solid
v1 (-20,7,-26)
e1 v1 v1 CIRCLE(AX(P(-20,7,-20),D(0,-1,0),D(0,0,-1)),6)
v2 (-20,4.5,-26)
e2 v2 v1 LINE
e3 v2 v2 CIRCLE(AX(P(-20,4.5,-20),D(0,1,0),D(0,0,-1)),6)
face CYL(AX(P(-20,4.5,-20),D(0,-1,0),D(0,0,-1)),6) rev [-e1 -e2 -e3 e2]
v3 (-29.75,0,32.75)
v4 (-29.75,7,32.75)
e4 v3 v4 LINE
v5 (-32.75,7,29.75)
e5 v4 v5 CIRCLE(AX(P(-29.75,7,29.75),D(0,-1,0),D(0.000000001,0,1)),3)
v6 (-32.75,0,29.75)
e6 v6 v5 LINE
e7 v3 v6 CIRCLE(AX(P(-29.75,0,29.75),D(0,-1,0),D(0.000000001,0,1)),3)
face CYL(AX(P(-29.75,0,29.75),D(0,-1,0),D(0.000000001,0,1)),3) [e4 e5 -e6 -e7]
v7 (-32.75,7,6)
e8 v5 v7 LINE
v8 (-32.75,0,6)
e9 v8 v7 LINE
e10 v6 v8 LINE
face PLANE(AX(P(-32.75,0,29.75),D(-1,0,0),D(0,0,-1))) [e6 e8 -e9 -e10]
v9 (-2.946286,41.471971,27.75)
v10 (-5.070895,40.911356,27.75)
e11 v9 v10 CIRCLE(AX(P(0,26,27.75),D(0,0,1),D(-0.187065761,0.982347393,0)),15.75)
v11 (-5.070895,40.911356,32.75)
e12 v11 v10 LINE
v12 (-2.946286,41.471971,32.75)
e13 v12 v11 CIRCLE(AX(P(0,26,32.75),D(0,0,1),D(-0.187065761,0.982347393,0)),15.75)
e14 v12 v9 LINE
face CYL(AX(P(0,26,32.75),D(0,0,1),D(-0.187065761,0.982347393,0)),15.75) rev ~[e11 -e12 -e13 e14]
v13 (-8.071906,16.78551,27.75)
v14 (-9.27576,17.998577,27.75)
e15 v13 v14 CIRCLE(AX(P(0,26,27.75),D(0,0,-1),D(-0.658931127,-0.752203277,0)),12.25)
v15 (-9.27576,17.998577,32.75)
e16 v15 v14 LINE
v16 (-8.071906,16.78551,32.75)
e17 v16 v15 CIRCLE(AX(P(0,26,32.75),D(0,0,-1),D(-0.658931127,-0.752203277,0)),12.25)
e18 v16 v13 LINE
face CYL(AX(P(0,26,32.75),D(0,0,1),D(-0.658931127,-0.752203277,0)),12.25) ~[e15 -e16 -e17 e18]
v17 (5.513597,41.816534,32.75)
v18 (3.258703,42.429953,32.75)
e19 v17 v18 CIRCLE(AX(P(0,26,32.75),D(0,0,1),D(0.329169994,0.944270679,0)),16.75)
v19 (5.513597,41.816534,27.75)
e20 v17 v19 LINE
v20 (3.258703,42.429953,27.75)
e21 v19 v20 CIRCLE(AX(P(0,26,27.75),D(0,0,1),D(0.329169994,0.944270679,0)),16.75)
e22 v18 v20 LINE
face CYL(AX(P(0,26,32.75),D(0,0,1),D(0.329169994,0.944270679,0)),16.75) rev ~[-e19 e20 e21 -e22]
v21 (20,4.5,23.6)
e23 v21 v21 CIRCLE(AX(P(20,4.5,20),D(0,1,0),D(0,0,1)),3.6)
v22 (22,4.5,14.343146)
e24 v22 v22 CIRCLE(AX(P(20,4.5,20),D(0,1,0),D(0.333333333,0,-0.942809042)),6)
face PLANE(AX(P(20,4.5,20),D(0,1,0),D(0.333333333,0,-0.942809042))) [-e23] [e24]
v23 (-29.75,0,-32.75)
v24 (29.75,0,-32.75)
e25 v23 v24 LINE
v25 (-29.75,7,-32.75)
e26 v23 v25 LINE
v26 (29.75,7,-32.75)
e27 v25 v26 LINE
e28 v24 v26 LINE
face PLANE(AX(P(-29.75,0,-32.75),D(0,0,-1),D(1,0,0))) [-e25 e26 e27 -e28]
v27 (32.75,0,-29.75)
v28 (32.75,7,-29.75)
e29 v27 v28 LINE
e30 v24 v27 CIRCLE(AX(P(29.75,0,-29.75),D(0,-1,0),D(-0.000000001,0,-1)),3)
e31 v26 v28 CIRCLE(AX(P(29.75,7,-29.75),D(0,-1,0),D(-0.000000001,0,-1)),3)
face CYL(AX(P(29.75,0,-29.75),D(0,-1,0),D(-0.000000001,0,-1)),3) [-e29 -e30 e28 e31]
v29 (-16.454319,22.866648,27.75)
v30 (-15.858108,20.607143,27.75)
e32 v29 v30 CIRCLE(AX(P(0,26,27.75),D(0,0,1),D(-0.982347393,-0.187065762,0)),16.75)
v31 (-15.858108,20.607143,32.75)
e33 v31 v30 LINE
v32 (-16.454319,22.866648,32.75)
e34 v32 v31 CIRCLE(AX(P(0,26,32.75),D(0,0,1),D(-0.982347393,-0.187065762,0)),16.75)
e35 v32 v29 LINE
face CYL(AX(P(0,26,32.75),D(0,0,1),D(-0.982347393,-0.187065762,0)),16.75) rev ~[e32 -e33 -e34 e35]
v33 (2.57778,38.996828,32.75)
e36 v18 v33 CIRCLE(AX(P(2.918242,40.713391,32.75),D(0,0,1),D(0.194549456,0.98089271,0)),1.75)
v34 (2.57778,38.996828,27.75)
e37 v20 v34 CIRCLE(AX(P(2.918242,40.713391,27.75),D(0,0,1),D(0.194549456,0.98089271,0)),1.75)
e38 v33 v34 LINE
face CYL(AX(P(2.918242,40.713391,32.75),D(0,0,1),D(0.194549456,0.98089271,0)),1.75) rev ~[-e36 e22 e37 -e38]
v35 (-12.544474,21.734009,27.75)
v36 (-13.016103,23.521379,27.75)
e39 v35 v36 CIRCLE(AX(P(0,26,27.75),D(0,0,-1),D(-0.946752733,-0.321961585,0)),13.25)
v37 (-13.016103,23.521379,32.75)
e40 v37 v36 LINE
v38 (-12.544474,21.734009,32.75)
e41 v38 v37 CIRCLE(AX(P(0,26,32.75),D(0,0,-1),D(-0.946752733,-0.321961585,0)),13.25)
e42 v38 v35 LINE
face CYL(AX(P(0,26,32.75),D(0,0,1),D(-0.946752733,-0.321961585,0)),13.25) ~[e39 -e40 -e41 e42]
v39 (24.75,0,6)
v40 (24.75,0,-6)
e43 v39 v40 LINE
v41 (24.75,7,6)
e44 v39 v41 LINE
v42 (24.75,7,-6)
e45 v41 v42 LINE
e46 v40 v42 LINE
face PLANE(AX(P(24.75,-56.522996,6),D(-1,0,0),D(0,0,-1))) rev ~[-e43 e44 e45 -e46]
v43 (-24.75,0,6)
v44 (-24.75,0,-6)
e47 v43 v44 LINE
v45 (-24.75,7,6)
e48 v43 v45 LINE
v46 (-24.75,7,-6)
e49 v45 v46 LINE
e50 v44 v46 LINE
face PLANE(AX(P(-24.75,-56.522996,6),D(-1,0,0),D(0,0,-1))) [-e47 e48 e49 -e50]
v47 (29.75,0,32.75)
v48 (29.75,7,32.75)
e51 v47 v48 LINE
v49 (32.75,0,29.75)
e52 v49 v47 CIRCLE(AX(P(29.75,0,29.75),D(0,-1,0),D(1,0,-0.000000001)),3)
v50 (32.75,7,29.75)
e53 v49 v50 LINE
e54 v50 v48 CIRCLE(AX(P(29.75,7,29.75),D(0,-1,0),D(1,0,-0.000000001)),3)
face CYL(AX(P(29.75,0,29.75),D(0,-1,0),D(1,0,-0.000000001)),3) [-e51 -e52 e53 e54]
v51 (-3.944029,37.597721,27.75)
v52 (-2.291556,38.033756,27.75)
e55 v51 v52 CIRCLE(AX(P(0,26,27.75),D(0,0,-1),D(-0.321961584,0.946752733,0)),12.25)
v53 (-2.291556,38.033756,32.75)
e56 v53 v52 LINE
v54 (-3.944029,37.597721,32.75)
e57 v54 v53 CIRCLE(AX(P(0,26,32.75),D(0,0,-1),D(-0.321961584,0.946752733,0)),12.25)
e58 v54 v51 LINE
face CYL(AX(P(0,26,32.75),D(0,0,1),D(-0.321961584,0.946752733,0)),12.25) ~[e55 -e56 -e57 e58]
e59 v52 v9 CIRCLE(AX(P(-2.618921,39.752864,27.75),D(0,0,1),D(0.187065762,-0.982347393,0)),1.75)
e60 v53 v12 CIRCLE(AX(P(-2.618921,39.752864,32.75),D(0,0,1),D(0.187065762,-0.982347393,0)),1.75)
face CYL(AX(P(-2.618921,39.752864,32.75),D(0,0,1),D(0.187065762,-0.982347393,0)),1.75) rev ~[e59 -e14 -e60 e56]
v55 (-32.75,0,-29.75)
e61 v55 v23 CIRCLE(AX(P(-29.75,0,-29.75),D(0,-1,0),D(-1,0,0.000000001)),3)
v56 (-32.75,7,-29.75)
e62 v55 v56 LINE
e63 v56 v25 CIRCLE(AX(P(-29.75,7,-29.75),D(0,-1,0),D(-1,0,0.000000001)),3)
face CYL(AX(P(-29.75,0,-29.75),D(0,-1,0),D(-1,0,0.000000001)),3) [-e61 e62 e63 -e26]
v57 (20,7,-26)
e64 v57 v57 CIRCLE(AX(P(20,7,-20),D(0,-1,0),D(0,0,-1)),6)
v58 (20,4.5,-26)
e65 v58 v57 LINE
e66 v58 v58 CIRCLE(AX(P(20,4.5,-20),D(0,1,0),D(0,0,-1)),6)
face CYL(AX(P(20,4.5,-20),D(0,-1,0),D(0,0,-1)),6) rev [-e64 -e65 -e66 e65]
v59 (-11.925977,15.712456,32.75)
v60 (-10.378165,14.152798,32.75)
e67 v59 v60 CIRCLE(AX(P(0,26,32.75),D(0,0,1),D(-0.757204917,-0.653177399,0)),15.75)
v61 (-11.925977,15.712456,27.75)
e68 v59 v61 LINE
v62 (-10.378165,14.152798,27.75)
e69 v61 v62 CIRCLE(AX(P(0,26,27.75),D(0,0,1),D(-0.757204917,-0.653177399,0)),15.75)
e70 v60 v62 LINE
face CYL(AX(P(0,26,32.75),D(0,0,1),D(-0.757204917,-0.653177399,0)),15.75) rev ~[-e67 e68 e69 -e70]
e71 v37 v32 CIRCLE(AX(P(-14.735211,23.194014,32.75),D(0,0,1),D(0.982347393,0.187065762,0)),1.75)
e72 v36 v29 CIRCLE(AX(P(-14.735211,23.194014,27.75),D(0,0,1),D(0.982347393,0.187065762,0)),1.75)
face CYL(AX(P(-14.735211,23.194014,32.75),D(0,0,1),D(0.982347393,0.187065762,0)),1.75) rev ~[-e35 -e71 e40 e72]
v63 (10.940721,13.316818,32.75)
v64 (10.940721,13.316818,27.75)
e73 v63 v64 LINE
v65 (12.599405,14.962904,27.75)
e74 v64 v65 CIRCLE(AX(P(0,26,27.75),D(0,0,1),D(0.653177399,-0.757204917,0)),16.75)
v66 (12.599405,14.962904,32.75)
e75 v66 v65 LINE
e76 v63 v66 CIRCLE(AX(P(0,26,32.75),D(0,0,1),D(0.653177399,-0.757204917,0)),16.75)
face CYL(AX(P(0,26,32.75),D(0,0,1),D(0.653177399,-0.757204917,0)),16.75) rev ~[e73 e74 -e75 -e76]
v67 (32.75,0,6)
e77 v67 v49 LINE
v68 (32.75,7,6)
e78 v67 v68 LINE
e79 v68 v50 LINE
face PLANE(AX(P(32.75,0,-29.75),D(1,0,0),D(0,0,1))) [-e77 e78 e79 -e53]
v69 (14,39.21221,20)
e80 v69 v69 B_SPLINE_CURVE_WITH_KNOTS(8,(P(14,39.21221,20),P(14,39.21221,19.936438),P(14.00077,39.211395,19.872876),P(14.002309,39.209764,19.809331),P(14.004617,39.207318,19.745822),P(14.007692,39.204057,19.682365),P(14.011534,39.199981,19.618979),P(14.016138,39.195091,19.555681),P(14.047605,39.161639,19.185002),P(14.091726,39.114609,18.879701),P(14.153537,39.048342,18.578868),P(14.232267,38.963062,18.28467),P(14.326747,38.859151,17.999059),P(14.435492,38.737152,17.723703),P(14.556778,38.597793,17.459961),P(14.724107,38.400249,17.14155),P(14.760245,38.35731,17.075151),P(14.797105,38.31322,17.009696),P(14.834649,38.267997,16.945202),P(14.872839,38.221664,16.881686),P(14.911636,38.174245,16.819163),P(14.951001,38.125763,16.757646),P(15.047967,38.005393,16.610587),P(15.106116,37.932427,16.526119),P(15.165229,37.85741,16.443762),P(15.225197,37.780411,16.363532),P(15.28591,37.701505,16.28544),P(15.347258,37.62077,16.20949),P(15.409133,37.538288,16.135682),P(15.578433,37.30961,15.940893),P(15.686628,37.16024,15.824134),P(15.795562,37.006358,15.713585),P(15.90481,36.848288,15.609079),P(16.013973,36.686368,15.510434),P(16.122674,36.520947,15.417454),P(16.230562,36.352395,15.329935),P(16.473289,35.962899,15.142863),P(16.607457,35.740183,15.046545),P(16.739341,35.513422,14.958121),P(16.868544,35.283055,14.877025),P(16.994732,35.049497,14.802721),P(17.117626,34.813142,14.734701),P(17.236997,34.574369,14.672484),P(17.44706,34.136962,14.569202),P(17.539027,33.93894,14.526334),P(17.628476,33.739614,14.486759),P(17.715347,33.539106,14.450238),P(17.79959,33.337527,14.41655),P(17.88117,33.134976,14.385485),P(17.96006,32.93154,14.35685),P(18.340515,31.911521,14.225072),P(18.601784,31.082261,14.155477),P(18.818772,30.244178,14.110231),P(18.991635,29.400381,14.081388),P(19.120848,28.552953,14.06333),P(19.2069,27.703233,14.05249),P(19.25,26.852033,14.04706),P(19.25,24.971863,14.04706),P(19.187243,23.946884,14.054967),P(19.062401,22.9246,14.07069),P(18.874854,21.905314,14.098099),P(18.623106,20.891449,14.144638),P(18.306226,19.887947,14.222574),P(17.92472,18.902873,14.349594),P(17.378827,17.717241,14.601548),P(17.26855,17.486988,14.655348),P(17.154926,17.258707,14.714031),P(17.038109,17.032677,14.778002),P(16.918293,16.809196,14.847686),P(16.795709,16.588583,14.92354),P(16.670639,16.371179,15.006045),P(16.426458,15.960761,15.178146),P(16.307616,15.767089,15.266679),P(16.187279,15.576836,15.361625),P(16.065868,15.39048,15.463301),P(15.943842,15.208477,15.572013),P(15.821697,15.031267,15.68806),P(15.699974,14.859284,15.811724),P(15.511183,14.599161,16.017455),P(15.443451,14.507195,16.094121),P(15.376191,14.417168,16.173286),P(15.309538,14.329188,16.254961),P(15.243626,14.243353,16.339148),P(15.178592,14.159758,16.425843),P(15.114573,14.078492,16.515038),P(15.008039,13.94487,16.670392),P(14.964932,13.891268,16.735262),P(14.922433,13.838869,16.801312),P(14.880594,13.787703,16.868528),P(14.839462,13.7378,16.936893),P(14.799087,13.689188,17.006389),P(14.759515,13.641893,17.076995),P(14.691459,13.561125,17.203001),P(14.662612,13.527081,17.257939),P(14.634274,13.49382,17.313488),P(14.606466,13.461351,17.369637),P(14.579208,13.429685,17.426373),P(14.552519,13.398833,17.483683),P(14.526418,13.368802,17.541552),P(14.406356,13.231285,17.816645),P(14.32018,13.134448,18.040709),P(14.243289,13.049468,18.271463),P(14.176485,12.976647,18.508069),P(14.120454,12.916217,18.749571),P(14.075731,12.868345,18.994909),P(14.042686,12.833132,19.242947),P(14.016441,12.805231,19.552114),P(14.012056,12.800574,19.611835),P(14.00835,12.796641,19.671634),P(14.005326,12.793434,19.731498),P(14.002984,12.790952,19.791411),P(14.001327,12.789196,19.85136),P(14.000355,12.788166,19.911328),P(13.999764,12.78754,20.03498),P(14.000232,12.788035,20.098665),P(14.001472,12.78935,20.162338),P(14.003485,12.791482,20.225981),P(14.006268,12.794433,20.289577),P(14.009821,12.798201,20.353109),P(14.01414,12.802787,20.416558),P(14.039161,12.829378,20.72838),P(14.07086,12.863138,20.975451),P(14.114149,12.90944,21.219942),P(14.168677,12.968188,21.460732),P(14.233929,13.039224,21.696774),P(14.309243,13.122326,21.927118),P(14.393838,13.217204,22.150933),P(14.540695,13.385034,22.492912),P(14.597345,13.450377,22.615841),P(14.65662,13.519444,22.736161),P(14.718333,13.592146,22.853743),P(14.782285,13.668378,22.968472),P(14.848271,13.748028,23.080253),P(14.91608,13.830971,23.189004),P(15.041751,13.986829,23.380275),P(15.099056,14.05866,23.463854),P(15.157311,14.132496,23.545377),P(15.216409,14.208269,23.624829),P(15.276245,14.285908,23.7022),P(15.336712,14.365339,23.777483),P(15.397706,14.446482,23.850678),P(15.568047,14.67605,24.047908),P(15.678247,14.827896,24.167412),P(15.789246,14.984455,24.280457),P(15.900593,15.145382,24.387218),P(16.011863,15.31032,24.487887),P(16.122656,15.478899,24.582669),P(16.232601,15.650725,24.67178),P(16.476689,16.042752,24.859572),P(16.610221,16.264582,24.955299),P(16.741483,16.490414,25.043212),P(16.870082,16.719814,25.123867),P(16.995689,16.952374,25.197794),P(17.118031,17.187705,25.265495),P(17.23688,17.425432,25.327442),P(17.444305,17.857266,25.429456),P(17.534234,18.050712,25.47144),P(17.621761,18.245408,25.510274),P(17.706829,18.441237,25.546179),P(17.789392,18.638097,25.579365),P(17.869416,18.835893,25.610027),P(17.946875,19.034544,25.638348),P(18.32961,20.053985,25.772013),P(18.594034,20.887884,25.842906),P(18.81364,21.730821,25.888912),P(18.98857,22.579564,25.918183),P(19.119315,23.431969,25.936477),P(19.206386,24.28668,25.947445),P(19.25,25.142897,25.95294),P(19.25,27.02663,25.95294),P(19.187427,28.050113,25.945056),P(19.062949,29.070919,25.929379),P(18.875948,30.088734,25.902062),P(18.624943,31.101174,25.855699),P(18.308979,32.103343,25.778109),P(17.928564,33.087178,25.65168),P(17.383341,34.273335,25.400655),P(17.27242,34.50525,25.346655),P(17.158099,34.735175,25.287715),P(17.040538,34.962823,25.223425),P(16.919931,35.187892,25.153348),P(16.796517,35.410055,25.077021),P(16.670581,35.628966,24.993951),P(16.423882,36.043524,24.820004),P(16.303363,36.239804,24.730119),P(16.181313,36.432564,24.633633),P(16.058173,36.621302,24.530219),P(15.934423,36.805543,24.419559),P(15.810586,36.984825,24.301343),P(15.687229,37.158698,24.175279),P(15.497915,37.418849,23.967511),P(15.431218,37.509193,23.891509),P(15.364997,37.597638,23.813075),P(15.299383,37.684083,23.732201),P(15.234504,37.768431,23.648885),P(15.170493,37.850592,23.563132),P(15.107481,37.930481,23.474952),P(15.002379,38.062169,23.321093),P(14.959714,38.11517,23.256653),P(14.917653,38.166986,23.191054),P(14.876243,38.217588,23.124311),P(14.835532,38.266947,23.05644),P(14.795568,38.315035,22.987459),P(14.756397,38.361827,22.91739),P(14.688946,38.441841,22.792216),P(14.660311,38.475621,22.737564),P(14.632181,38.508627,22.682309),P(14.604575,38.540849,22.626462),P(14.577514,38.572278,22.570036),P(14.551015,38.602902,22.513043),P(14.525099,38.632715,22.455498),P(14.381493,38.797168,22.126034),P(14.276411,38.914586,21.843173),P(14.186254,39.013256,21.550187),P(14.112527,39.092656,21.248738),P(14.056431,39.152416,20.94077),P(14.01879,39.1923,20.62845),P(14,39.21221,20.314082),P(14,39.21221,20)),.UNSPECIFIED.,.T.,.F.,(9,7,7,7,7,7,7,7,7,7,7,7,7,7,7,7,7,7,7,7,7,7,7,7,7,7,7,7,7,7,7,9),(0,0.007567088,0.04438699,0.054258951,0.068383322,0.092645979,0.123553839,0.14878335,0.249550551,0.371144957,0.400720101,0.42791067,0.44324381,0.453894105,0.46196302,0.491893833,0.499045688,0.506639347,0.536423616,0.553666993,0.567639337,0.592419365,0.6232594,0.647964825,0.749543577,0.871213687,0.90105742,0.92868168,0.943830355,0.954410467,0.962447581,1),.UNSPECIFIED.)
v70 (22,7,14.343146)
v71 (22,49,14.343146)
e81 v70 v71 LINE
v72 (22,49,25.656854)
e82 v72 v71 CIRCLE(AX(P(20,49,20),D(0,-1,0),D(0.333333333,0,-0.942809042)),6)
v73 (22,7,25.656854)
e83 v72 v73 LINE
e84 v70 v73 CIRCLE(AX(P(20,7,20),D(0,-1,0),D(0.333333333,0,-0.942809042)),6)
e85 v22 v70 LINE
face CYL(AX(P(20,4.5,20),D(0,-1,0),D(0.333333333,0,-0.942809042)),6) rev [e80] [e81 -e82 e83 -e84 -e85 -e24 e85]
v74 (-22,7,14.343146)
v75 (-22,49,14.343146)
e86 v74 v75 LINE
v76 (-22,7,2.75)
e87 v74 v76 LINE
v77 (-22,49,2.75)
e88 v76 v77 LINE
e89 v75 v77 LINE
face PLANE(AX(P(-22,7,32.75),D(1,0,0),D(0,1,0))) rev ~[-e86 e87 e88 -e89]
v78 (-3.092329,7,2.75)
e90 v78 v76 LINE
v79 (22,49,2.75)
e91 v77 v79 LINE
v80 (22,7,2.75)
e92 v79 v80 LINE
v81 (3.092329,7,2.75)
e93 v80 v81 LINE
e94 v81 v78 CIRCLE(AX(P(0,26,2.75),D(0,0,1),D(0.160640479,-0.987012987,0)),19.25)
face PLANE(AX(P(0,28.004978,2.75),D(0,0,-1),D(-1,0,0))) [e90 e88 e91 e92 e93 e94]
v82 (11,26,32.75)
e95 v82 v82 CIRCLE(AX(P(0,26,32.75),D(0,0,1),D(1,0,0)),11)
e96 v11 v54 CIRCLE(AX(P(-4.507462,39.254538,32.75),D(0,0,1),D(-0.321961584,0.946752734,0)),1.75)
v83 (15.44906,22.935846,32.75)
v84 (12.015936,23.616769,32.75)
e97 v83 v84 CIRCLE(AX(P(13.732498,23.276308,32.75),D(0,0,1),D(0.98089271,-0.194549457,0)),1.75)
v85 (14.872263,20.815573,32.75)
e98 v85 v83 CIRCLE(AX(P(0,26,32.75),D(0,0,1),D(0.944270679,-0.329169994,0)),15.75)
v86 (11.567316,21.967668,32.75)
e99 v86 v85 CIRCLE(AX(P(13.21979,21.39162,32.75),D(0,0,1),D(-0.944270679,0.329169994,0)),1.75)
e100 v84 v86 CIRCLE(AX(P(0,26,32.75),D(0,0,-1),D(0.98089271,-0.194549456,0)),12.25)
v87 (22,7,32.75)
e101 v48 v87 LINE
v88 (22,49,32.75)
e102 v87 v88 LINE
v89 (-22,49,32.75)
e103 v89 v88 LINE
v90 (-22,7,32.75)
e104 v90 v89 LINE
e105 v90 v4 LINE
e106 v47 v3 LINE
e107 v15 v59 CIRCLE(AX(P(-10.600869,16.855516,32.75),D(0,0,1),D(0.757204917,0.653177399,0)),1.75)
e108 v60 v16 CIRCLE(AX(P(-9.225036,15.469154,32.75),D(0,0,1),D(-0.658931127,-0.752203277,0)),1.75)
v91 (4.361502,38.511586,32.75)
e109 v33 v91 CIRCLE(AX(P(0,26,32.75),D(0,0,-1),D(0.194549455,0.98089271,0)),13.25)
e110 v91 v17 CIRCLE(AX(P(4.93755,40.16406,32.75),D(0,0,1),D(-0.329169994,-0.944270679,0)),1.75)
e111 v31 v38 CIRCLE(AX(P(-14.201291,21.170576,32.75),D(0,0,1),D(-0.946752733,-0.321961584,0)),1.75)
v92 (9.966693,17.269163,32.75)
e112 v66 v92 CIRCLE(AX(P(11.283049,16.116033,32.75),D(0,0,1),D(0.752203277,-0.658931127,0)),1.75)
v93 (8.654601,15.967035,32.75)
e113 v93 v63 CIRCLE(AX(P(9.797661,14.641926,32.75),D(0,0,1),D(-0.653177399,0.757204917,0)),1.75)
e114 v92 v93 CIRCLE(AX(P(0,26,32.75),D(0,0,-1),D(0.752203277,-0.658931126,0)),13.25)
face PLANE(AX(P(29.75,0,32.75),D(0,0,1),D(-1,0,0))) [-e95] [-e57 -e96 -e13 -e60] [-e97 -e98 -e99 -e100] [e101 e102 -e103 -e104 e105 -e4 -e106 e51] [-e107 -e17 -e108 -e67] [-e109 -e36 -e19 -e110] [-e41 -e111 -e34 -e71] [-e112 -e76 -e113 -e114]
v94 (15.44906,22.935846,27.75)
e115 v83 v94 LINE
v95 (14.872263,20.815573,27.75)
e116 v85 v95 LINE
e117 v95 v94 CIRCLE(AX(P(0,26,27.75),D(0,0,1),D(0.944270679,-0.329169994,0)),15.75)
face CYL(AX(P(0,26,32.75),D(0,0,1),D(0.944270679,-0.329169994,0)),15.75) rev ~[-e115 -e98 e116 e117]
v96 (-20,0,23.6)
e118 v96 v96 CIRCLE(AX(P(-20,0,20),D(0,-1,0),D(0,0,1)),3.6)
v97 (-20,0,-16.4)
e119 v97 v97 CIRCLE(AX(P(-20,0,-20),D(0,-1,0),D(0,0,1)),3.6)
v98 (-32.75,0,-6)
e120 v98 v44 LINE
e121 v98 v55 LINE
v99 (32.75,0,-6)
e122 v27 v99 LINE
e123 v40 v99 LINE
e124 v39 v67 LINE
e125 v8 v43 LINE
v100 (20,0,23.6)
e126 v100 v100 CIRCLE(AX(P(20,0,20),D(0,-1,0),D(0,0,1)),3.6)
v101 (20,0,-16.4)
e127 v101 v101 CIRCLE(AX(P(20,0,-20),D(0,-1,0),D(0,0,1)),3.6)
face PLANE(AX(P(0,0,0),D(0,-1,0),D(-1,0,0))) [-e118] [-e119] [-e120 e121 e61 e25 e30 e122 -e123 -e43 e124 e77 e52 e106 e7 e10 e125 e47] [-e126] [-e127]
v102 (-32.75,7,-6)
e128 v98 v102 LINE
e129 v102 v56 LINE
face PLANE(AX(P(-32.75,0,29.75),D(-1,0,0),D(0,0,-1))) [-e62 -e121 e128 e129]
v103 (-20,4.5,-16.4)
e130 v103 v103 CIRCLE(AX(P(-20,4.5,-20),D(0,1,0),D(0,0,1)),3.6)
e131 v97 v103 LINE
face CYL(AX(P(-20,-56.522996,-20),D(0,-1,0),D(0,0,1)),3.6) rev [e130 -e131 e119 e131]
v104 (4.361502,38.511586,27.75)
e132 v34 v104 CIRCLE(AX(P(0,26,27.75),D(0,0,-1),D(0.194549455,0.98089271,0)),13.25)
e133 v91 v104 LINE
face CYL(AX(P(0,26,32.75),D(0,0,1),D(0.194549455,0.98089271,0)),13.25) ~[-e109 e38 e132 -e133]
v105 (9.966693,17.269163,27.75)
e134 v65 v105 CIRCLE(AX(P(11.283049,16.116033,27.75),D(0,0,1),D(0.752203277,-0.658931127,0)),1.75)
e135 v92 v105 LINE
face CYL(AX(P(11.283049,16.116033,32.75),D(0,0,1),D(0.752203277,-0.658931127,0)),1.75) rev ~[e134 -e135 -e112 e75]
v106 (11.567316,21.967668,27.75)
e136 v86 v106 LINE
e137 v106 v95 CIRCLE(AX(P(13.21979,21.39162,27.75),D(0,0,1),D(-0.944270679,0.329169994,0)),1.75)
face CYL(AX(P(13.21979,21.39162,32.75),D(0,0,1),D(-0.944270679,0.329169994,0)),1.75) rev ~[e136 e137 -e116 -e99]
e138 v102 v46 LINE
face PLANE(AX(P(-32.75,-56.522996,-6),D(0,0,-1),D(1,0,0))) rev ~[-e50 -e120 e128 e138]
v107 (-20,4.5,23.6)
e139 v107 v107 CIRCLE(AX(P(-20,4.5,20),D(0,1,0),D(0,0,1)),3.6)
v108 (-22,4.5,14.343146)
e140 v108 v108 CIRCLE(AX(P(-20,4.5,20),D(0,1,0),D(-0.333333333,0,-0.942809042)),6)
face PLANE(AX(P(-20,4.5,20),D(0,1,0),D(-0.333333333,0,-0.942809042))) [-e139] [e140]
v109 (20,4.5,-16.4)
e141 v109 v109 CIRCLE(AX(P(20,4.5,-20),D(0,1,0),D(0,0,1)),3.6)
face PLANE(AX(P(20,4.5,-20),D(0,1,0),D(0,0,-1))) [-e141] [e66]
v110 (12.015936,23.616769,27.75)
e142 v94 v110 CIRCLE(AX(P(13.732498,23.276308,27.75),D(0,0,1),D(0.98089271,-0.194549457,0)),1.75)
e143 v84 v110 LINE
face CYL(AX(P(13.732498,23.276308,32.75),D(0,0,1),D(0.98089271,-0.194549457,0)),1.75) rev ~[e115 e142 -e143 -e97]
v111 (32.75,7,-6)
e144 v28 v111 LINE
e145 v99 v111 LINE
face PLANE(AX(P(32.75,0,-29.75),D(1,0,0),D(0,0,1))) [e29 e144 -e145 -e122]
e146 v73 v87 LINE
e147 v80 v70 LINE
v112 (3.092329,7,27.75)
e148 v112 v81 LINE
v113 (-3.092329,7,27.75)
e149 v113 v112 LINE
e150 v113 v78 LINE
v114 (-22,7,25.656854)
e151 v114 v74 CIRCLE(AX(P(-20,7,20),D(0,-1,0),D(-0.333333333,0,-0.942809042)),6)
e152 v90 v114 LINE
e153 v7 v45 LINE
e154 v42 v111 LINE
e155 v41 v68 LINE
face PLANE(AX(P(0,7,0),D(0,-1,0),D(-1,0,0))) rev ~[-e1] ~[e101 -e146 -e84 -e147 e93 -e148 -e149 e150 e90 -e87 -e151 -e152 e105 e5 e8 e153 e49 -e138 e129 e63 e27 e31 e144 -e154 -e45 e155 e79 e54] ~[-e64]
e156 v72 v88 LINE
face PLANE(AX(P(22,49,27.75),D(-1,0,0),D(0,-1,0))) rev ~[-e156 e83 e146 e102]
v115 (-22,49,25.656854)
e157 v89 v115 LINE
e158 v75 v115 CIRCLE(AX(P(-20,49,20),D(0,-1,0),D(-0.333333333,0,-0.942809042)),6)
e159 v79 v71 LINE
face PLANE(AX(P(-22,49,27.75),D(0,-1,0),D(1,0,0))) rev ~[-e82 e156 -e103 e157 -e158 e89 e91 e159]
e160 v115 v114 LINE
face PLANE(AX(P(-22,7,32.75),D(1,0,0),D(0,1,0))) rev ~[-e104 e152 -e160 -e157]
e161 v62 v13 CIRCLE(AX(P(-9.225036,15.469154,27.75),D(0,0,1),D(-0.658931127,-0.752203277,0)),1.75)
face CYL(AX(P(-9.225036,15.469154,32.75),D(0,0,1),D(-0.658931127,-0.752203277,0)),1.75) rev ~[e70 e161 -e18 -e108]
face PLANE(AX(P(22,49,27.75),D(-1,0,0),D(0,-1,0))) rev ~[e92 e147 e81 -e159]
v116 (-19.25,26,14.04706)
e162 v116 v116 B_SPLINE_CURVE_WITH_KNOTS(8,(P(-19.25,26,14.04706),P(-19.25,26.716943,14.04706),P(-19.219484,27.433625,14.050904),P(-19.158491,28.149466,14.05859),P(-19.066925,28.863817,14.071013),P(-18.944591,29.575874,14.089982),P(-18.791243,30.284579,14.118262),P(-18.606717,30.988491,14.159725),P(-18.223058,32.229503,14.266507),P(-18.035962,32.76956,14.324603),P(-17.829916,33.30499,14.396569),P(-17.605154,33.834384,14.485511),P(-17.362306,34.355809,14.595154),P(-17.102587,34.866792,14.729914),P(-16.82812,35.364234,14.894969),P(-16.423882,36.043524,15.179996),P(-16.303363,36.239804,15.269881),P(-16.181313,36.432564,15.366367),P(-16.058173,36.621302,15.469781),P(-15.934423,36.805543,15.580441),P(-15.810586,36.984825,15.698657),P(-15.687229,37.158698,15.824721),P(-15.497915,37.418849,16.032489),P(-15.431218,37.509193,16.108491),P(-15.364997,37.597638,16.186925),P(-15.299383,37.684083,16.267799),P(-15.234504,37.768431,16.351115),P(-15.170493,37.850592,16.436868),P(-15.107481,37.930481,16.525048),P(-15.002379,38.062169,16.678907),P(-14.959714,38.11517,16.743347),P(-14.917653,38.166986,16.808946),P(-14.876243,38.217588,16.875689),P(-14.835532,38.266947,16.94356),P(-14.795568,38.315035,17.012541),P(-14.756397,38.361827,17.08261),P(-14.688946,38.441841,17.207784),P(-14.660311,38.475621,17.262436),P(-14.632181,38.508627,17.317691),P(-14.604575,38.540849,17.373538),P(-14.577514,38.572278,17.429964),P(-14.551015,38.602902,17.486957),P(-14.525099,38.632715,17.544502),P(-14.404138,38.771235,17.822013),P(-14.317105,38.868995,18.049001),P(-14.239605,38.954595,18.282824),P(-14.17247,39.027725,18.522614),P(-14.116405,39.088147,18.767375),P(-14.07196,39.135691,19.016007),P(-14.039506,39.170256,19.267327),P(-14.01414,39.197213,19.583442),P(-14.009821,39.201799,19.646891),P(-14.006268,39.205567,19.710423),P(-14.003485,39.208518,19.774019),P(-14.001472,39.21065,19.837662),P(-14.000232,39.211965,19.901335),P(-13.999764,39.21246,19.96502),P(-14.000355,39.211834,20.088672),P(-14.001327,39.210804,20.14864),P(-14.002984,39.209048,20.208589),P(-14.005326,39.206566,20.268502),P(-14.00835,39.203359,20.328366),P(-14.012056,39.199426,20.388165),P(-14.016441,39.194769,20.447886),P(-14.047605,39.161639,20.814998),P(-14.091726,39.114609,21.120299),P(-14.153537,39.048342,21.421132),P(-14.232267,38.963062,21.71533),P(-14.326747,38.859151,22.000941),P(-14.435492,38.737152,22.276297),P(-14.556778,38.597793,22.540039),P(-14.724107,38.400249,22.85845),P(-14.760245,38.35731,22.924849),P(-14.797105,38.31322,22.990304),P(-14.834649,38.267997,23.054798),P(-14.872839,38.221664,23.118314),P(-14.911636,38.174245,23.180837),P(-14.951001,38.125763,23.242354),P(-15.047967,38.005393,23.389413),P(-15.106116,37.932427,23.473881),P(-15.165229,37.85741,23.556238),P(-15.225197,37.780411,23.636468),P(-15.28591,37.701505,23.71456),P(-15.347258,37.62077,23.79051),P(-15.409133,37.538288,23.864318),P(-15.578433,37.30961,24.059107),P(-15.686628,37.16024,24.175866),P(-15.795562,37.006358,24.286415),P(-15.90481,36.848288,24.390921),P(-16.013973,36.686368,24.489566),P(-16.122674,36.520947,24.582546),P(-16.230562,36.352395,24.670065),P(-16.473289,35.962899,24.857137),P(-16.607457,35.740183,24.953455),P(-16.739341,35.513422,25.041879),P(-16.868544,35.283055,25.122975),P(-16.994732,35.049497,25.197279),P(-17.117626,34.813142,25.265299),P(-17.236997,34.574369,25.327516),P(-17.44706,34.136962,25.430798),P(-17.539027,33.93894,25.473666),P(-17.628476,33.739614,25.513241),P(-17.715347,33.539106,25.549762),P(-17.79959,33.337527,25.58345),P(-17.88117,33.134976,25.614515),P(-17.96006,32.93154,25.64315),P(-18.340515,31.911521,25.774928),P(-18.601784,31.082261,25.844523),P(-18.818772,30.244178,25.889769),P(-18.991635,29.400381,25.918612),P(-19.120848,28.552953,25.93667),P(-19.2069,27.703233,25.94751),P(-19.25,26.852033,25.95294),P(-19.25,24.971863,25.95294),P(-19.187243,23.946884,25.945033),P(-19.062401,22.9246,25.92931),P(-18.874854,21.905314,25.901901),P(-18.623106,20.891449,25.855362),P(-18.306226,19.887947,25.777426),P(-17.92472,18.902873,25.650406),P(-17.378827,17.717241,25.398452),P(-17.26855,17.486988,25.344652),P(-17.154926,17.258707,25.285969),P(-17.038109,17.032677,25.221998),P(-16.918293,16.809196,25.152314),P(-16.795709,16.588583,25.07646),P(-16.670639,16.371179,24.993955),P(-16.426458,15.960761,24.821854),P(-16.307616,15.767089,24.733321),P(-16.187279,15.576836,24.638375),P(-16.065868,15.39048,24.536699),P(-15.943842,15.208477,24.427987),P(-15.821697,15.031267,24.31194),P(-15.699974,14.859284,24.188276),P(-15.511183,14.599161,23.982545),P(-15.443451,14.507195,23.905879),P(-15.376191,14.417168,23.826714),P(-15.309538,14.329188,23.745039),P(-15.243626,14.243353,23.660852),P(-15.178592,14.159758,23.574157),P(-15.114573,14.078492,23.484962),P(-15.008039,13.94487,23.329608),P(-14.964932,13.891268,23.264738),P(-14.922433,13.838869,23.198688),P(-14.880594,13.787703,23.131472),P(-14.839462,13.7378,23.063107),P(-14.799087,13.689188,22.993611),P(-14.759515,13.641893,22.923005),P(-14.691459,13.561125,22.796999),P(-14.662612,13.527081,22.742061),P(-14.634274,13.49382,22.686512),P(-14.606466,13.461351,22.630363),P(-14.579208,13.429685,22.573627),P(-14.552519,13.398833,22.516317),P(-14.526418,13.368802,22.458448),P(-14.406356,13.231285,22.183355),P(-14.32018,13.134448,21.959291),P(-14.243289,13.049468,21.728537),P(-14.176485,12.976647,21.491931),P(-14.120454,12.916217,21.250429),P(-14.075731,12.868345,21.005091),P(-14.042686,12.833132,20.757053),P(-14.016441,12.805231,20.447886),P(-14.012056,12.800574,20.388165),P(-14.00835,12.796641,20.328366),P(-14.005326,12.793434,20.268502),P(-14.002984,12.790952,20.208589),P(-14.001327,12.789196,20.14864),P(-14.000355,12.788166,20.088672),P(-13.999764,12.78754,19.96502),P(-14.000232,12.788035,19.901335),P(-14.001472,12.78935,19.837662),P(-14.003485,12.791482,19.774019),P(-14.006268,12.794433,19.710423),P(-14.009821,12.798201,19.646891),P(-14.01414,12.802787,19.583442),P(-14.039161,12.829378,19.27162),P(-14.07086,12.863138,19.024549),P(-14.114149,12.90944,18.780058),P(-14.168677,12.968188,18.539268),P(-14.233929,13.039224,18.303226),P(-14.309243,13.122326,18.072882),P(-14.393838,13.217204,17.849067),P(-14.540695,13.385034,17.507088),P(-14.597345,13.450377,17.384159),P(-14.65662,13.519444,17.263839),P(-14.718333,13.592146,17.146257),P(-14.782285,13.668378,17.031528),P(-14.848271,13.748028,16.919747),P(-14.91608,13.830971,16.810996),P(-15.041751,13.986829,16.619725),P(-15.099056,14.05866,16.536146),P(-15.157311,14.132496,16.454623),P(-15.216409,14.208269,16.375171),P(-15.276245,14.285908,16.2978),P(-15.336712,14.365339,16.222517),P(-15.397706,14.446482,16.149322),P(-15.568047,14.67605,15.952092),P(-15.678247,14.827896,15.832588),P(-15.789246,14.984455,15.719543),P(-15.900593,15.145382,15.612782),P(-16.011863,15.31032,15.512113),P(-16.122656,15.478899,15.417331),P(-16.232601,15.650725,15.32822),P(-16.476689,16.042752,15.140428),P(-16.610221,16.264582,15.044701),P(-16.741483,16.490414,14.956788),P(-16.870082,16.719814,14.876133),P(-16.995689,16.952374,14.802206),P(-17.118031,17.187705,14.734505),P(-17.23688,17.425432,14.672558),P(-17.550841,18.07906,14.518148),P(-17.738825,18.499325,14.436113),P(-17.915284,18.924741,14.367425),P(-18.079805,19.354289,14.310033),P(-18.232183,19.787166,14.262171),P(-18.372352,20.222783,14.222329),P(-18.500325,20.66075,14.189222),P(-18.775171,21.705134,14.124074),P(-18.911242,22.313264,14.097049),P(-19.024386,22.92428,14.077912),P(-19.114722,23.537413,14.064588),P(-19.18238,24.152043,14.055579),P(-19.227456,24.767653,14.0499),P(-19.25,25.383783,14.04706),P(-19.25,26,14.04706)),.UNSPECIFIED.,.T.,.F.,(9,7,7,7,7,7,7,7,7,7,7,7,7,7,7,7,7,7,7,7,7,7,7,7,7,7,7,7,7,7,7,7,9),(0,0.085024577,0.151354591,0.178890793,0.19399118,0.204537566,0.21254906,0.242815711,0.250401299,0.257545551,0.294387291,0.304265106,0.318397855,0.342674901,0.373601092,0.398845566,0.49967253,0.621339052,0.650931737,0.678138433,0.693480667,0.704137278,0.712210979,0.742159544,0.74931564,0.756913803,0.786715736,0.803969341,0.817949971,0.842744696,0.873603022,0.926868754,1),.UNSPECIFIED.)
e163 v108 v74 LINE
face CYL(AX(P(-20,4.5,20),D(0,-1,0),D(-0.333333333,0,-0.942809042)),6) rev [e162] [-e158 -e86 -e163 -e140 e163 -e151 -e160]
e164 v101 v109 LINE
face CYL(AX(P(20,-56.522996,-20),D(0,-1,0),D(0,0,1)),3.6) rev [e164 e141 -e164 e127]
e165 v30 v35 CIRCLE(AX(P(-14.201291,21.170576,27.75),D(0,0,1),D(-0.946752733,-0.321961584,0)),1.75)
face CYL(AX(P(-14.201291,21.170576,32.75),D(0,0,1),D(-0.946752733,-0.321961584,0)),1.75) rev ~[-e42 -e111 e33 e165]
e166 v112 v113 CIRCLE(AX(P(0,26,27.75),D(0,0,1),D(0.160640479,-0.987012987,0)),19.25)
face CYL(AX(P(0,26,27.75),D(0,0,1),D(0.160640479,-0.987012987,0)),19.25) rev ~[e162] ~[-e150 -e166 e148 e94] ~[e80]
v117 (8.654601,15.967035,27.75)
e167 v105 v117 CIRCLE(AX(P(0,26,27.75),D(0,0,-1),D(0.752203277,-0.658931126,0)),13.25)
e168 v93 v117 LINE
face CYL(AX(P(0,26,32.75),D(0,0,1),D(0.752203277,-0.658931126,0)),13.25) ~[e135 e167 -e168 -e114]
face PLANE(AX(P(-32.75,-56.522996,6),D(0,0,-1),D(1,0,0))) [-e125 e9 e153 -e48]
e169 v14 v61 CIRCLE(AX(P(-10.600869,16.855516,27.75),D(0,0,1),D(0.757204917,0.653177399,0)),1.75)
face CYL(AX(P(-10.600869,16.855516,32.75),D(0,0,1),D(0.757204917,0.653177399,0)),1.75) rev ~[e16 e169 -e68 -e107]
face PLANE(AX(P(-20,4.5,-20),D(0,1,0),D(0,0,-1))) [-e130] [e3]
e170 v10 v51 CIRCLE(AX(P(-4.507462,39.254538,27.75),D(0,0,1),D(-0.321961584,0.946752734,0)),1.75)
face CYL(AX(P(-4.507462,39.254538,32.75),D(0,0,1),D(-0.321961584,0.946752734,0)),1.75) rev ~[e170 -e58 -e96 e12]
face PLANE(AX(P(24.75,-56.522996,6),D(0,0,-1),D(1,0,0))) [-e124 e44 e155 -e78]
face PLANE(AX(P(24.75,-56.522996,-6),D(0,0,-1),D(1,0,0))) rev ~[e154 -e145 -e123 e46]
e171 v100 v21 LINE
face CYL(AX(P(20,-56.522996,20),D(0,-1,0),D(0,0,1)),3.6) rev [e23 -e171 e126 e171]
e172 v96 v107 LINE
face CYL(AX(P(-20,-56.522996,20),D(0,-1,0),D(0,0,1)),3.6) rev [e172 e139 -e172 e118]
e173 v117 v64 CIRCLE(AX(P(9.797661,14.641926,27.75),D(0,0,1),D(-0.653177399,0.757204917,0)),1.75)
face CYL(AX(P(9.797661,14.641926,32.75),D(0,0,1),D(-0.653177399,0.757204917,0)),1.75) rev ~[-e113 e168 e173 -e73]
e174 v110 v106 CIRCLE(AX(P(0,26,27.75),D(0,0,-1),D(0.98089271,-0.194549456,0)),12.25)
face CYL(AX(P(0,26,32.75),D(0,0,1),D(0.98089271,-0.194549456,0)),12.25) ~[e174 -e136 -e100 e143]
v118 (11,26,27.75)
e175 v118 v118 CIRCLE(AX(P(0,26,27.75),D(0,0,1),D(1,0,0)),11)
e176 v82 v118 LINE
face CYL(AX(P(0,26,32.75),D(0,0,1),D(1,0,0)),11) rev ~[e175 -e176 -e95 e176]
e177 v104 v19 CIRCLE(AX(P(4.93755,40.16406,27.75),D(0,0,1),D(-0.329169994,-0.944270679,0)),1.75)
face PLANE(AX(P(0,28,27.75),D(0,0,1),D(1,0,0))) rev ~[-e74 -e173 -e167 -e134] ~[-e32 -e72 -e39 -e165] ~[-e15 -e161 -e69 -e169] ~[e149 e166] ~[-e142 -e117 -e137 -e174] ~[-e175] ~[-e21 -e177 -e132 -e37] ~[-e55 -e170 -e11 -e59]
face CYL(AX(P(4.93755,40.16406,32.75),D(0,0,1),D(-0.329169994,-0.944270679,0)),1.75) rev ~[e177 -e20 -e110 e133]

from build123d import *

# Parameters (mm, degrees)
BOSS_EXTRUDE1_DEPTH     = 7
SKETCH2_W               = 44
SKETCH2_H               = 42
SKETCH2_R               = 11
BOSS_EXTRUDE3_DEPTH     = 5
BOSS_EXTRUDE4_DEPTH     = 25
CUT_EXTRUDE6_DEPTH      = 5
CUT_EXTRUDE7_DEPTH      = 63.52299577
CUT_EXTRUDE7_DEPTH_BACK = 63.52299577
SKETCH7_W               = 8
SKETCH7_H               = 12
SKETCH7_R               = 3.6
CUT_EXTRUDE9_DEPTH      = 63.522995837
CUT_EXTRUDE9_DEPTH_BACK = 2.5
SKETCH7_4_R             = 6
SKETCH7_4_R_2           = 3.6
SKETCH7_4_W             = 8
SKETCH7_4_H             = 12


with BuildPart() as part:
    # Sketch1 → Boss-Extrude1 (new body)
    with BuildSketch(Plane(origin=(0, 0, 0), x_dir=(1, 0, 0), z_dir=(0, 1, 0))):
        with BuildLine():
            Line((-29.75, 32.75), (29.75, 32.75))
            ThreePointArc((29.75, 32.75), (31.871320344, 31.871320344), (32.75, 29.75))
            Line((32.75, 29.75), (32.75, -29.75))
            ThreePointArc((32.75, -29.75), (31.871320344, -31.871320344), (29.75, -32.75))
            Line((29.75, -32.75), (-29.75, -32.75))
            ThreePointArc((-29.75, -32.75), (-31.871320344, -31.871320344), (-32.75, -29.75))
            Line((-32.75, -29.75), (-32.75, 29.75))
            ThreePointArc((-32.75, 29.75), (-31.871320344, 31.871320344), (-29.75, 32.75))
        make_face()
    extrude(amount=BOSS_EXTRUDE1_DEPTH)

    # Sketch2 → Boss-Extrude3 (add)
    with BuildSketch(Plane.XY.offset(32.75)):
        with Locations((0, 28)):
            Rectangle(SKETCH2_W, SKETCH2_H)
        with Locations((0, 26)):
            Circle(SKETCH2_R, mode=Mode.SUBTRACT)
    extrude(amount=-BOSS_EXTRUDE3_DEPTH)

    # Sketch3 → Boss-Extrude4 (add)
    with BuildSketch(Plane(origin=(0, 0, 27.75), x_dir=(-1, 0, 0), z_dir=(0, 0, -1))):
        with BuildLine():
            ThreePointArc((-3.092329219, 7), (0, 45.25), (3.092329219, 7))
            Line((3.092329219, 7), (22, 7))
            Line((22, 7), (22, 49))
            Line((22, 49), (-22, 49))
            Line((-22, 49), (-22, 7))
            Line((-22, 7), (-3.092329219, 7))
        make_face()
    extrude(amount=BOSS_EXTRUDE4_DEPTH)

    # Sketch6 → Cut-Extrude6 (cut)
    with BuildSketch(Plane.XY.offset(32.75)):
        with BuildLine():
            ThreePointArc((12.015935701, 23.616769161), (11.820419706, 22.784385288), (11.567315814, 21.967667567))
            ThreePointArc((11.567315814, 21.967667567), (12.643742012, 19.739146389), (14.87226319, 20.815572586))
            ThreePointArc((14.87226319, 20.815572586), (15.197682479, 21.865638228), (15.449060187, 22.935846064))
            ThreePointArc((15.449060187, 22.935846064), (14.072959492, 24.992869856), (12.015935701, 23.616769161))
        make_face()
        with BuildLine():
            ThreePointArc((9.966693425, 17.269162573), (9.333382629, 16.595189066), (8.654600531, 15.967034853))
            ThreePointArc((8.654600531, 15.967034853), (8.472552374, 13.498865801), (10.940721426, 13.316817644))
            ThreePointArc((10.940721426, 13.316817644), (11.798804456, 14.110899386), (12.599404896, 14.96290363))
            ThreePointArc((12.599404896, 14.96290363), (12.436178632, 17.432388837), (9.966693425, 17.269162573))
        make_face()
        with BuildLine():
            ThreePointArc((-9.275760231, 17.998576867), (-11.743929282, 18.180625024), (-11.925977439, 15.712455972))
            ThreePointArc((-11.925977439, 15.712455972), (-11.179303563, 14.905601781), (-10.378165243, 14.152798382))
            ThreePointArc((-10.378165243, 14.152798382), (-7.908680036, 14.316024645), (-8.0719063, 16.785509852))
            ThreePointArc((-8.0719063, 16.785509852), (-8.695013882, 17.371023607), (-9.275760231, 17.998576867))
        make_face()
        with BuildLine():
            ThreePointArc((-13.016102958, 23.521378654), (-15.06257598, 24.913121509), (-16.454318834, 22.866648487))
            ThreePointArc((-16.454318834, 22.866648487), (-16.195665388, 21.726485914), (-15.858108288, 20.607143472))
            ThreePointArc((-15.858108288, 20.607143472), (-13.637858233, 19.51375896), (-12.54447372, 21.734009016))
            ThreePointArc((-12.54447372, 21.734009016), (-12.811496501, 22.619459007), (-13.016102958, 23.521378654))
        make_face()
        with BuildLine():
            ThreePointArc((-2.291555584, 38.033755565), (-0.899812729, 40.080228587), (-2.946285751, 41.471971441))
            ThreePointArc((-2.946285751, 41.471971441), (-4.018378916, 41.228759992), (-5.070894944, 40.911355554))
            ThreePointArc((-5.070894944, 40.911355554), (-6.164279456, 38.691105499), (-3.944029401, 37.597720987))
            ThreePointArc((-3.944029401, 37.597720987), (-3.125405824, 37.844591105), (-2.291555584, 38.033755565))
        make_face()
        with BuildLine():
            ThreePointArc((4.361502427, 38.511586493), (6.590023605, 39.588012691), (5.513597408, 41.816533869))
            ThreePointArc((5.513597408, 41.816533869), (4.396860932, 42.1626147), (3.258703392, 42.429952897))
            ThreePointArc((3.258703392, 42.429952897), (1.201679601, 41.053852203), (2.577780295, 38.996828411))
            ThreePointArc((2.577780295, 38.996828411), (3.478113872, 38.785351927), (4.361502427, 38.511586493))
        make_face()
    extrude(amount=-CUT_EXTRUDE6_DEPTH, mode=Mode.SUBTRACT)

    # Sketch7 → Cut-Extrude7 (cut, two sides: drawn at the far end of the back side and taken through both)
    with BuildSketch(Plane(origin=(0, 7, 0), x_dir=(1, 0, 0), z_dir=(0, 1, 0)).offset(-CUT_EXTRUDE7_DEPTH_BACK)):
        with Locations((-28.75, 0)):
            Rectangle(SKETCH7_W, SKETCH7_H)
        with Locations((28.75, 0)):
            Rectangle(SKETCH7_W, SKETCH7_H)
        with Locations(Location((-20, 20, 0), (0, 0, 270))):
            Circle(SKETCH7_R)
        with Locations(Location((20, 20, 0), (0, 0, 270))):
            Circle(SKETCH7_R)
        with Locations(Location((20, -20, 0), (0, 0, 270))):
            Circle(SKETCH7_R)
        with Locations(Location((-20, -20, 0), (0, 0, 270))):
            Circle(SKETCH7_R)
    extrude(amount=CUT_EXTRUDE7_DEPTH + CUT_EXTRUDE7_DEPTH_BACK, mode=Mode.SUBTRACT)

    # Sketch7<4> → Cut-Extrude9 (cut, two sides: drawn at the far end of the back side and taken through both)
    # profile 1 of 6: a face of its own
    with BuildSketch(Plane(origin=(0, 7, 0), x_dir=(1, 0, 0), z_dir=(0, 1, 0)).offset(-CUT_EXTRUDE9_DEPTH_BACK)):
        with Locations(Location((-20, 20, 0), (0, 0, 90))):
            Circle(SKETCH7_4_R)
        with Locations(Location((-20, 20, 0), (0, 0, 270))):
            Circle(SKETCH7_4_R_2, mode=Mode.SUBTRACT)
    # profile 2 of 6: a face of its own
    with BuildSketch(Plane(origin=(0, 7, 0), x_dir=(1, 0, 0), z_dir=(0, 1, 0)).offset(-CUT_EXTRUDE9_DEPTH_BACK)):
        with Locations(Location((20, 20, 0), (0, 0, 90))):
            Circle(SKETCH7_4_R)
        with Locations(Location((20, 20, 0), (0, 0, 270))):
            Circle(SKETCH7_4_R_2, mode=Mode.SUBTRACT)
    # profile 3 of 6: a face of its own
    with BuildSketch(Plane(origin=(0, 7, 0), x_dir=(1, 0, 0), z_dir=(0, 1, 0)).offset(-CUT_EXTRUDE9_DEPTH_BACK)):
        with Locations(Location((20, -20, 0), (0, 0, 70.528779366))):
            Circle(SKETCH7_4_R)
        with Locations(Location((20, -20, 0), (0, 0, 270))):
            Circle(SKETCH7_4_R_2, mode=Mode.SUBTRACT)
    # profile 4 of 6: a face of its own
    with BuildSketch(Plane(origin=(0, 7, 0), x_dir=(1, 0, 0), z_dir=(0, 1, 0)).offset(-CUT_EXTRUDE9_DEPTH_BACK)):
        with Locations(Location((-20, -20, 0), (0, 0, 109.471220634))):
            Circle(SKETCH7_4_R)
        with Locations(Location((-20, -20, 0), (0, 0, 270))):
            Circle(SKETCH7_4_R_2, mode=Mode.SUBTRACT)
    # profile 5 of 6: a face of its own
    with BuildSketch(Plane(origin=(0, 7, 0), x_dir=(1, 0, 0), z_dir=(0, 1, 0)).offset(-CUT_EXTRUDE9_DEPTH_BACK)):
        with Locations((-28.75, 0)):
            Rectangle(SKETCH7_4_W, SKETCH7_4_H)
    # profile 6 of 6: a face of its own
    with BuildSketch(Plane(origin=(0, 7, 0), x_dir=(1, 0, 0), z_dir=(0, 1, 0)).offset(-CUT_EXTRUDE9_DEPTH_BACK)):
        with Locations((28.75, 0)):
            Rectangle(SKETCH7_4_W, SKETCH7_4_H)
    extrude(amount=CUT_EXTRUDE9_DEPTH + CUT_EXTRUDE9_DEPTH_BACK, mode=Mode.SUBTRACT)


solid = part.part
